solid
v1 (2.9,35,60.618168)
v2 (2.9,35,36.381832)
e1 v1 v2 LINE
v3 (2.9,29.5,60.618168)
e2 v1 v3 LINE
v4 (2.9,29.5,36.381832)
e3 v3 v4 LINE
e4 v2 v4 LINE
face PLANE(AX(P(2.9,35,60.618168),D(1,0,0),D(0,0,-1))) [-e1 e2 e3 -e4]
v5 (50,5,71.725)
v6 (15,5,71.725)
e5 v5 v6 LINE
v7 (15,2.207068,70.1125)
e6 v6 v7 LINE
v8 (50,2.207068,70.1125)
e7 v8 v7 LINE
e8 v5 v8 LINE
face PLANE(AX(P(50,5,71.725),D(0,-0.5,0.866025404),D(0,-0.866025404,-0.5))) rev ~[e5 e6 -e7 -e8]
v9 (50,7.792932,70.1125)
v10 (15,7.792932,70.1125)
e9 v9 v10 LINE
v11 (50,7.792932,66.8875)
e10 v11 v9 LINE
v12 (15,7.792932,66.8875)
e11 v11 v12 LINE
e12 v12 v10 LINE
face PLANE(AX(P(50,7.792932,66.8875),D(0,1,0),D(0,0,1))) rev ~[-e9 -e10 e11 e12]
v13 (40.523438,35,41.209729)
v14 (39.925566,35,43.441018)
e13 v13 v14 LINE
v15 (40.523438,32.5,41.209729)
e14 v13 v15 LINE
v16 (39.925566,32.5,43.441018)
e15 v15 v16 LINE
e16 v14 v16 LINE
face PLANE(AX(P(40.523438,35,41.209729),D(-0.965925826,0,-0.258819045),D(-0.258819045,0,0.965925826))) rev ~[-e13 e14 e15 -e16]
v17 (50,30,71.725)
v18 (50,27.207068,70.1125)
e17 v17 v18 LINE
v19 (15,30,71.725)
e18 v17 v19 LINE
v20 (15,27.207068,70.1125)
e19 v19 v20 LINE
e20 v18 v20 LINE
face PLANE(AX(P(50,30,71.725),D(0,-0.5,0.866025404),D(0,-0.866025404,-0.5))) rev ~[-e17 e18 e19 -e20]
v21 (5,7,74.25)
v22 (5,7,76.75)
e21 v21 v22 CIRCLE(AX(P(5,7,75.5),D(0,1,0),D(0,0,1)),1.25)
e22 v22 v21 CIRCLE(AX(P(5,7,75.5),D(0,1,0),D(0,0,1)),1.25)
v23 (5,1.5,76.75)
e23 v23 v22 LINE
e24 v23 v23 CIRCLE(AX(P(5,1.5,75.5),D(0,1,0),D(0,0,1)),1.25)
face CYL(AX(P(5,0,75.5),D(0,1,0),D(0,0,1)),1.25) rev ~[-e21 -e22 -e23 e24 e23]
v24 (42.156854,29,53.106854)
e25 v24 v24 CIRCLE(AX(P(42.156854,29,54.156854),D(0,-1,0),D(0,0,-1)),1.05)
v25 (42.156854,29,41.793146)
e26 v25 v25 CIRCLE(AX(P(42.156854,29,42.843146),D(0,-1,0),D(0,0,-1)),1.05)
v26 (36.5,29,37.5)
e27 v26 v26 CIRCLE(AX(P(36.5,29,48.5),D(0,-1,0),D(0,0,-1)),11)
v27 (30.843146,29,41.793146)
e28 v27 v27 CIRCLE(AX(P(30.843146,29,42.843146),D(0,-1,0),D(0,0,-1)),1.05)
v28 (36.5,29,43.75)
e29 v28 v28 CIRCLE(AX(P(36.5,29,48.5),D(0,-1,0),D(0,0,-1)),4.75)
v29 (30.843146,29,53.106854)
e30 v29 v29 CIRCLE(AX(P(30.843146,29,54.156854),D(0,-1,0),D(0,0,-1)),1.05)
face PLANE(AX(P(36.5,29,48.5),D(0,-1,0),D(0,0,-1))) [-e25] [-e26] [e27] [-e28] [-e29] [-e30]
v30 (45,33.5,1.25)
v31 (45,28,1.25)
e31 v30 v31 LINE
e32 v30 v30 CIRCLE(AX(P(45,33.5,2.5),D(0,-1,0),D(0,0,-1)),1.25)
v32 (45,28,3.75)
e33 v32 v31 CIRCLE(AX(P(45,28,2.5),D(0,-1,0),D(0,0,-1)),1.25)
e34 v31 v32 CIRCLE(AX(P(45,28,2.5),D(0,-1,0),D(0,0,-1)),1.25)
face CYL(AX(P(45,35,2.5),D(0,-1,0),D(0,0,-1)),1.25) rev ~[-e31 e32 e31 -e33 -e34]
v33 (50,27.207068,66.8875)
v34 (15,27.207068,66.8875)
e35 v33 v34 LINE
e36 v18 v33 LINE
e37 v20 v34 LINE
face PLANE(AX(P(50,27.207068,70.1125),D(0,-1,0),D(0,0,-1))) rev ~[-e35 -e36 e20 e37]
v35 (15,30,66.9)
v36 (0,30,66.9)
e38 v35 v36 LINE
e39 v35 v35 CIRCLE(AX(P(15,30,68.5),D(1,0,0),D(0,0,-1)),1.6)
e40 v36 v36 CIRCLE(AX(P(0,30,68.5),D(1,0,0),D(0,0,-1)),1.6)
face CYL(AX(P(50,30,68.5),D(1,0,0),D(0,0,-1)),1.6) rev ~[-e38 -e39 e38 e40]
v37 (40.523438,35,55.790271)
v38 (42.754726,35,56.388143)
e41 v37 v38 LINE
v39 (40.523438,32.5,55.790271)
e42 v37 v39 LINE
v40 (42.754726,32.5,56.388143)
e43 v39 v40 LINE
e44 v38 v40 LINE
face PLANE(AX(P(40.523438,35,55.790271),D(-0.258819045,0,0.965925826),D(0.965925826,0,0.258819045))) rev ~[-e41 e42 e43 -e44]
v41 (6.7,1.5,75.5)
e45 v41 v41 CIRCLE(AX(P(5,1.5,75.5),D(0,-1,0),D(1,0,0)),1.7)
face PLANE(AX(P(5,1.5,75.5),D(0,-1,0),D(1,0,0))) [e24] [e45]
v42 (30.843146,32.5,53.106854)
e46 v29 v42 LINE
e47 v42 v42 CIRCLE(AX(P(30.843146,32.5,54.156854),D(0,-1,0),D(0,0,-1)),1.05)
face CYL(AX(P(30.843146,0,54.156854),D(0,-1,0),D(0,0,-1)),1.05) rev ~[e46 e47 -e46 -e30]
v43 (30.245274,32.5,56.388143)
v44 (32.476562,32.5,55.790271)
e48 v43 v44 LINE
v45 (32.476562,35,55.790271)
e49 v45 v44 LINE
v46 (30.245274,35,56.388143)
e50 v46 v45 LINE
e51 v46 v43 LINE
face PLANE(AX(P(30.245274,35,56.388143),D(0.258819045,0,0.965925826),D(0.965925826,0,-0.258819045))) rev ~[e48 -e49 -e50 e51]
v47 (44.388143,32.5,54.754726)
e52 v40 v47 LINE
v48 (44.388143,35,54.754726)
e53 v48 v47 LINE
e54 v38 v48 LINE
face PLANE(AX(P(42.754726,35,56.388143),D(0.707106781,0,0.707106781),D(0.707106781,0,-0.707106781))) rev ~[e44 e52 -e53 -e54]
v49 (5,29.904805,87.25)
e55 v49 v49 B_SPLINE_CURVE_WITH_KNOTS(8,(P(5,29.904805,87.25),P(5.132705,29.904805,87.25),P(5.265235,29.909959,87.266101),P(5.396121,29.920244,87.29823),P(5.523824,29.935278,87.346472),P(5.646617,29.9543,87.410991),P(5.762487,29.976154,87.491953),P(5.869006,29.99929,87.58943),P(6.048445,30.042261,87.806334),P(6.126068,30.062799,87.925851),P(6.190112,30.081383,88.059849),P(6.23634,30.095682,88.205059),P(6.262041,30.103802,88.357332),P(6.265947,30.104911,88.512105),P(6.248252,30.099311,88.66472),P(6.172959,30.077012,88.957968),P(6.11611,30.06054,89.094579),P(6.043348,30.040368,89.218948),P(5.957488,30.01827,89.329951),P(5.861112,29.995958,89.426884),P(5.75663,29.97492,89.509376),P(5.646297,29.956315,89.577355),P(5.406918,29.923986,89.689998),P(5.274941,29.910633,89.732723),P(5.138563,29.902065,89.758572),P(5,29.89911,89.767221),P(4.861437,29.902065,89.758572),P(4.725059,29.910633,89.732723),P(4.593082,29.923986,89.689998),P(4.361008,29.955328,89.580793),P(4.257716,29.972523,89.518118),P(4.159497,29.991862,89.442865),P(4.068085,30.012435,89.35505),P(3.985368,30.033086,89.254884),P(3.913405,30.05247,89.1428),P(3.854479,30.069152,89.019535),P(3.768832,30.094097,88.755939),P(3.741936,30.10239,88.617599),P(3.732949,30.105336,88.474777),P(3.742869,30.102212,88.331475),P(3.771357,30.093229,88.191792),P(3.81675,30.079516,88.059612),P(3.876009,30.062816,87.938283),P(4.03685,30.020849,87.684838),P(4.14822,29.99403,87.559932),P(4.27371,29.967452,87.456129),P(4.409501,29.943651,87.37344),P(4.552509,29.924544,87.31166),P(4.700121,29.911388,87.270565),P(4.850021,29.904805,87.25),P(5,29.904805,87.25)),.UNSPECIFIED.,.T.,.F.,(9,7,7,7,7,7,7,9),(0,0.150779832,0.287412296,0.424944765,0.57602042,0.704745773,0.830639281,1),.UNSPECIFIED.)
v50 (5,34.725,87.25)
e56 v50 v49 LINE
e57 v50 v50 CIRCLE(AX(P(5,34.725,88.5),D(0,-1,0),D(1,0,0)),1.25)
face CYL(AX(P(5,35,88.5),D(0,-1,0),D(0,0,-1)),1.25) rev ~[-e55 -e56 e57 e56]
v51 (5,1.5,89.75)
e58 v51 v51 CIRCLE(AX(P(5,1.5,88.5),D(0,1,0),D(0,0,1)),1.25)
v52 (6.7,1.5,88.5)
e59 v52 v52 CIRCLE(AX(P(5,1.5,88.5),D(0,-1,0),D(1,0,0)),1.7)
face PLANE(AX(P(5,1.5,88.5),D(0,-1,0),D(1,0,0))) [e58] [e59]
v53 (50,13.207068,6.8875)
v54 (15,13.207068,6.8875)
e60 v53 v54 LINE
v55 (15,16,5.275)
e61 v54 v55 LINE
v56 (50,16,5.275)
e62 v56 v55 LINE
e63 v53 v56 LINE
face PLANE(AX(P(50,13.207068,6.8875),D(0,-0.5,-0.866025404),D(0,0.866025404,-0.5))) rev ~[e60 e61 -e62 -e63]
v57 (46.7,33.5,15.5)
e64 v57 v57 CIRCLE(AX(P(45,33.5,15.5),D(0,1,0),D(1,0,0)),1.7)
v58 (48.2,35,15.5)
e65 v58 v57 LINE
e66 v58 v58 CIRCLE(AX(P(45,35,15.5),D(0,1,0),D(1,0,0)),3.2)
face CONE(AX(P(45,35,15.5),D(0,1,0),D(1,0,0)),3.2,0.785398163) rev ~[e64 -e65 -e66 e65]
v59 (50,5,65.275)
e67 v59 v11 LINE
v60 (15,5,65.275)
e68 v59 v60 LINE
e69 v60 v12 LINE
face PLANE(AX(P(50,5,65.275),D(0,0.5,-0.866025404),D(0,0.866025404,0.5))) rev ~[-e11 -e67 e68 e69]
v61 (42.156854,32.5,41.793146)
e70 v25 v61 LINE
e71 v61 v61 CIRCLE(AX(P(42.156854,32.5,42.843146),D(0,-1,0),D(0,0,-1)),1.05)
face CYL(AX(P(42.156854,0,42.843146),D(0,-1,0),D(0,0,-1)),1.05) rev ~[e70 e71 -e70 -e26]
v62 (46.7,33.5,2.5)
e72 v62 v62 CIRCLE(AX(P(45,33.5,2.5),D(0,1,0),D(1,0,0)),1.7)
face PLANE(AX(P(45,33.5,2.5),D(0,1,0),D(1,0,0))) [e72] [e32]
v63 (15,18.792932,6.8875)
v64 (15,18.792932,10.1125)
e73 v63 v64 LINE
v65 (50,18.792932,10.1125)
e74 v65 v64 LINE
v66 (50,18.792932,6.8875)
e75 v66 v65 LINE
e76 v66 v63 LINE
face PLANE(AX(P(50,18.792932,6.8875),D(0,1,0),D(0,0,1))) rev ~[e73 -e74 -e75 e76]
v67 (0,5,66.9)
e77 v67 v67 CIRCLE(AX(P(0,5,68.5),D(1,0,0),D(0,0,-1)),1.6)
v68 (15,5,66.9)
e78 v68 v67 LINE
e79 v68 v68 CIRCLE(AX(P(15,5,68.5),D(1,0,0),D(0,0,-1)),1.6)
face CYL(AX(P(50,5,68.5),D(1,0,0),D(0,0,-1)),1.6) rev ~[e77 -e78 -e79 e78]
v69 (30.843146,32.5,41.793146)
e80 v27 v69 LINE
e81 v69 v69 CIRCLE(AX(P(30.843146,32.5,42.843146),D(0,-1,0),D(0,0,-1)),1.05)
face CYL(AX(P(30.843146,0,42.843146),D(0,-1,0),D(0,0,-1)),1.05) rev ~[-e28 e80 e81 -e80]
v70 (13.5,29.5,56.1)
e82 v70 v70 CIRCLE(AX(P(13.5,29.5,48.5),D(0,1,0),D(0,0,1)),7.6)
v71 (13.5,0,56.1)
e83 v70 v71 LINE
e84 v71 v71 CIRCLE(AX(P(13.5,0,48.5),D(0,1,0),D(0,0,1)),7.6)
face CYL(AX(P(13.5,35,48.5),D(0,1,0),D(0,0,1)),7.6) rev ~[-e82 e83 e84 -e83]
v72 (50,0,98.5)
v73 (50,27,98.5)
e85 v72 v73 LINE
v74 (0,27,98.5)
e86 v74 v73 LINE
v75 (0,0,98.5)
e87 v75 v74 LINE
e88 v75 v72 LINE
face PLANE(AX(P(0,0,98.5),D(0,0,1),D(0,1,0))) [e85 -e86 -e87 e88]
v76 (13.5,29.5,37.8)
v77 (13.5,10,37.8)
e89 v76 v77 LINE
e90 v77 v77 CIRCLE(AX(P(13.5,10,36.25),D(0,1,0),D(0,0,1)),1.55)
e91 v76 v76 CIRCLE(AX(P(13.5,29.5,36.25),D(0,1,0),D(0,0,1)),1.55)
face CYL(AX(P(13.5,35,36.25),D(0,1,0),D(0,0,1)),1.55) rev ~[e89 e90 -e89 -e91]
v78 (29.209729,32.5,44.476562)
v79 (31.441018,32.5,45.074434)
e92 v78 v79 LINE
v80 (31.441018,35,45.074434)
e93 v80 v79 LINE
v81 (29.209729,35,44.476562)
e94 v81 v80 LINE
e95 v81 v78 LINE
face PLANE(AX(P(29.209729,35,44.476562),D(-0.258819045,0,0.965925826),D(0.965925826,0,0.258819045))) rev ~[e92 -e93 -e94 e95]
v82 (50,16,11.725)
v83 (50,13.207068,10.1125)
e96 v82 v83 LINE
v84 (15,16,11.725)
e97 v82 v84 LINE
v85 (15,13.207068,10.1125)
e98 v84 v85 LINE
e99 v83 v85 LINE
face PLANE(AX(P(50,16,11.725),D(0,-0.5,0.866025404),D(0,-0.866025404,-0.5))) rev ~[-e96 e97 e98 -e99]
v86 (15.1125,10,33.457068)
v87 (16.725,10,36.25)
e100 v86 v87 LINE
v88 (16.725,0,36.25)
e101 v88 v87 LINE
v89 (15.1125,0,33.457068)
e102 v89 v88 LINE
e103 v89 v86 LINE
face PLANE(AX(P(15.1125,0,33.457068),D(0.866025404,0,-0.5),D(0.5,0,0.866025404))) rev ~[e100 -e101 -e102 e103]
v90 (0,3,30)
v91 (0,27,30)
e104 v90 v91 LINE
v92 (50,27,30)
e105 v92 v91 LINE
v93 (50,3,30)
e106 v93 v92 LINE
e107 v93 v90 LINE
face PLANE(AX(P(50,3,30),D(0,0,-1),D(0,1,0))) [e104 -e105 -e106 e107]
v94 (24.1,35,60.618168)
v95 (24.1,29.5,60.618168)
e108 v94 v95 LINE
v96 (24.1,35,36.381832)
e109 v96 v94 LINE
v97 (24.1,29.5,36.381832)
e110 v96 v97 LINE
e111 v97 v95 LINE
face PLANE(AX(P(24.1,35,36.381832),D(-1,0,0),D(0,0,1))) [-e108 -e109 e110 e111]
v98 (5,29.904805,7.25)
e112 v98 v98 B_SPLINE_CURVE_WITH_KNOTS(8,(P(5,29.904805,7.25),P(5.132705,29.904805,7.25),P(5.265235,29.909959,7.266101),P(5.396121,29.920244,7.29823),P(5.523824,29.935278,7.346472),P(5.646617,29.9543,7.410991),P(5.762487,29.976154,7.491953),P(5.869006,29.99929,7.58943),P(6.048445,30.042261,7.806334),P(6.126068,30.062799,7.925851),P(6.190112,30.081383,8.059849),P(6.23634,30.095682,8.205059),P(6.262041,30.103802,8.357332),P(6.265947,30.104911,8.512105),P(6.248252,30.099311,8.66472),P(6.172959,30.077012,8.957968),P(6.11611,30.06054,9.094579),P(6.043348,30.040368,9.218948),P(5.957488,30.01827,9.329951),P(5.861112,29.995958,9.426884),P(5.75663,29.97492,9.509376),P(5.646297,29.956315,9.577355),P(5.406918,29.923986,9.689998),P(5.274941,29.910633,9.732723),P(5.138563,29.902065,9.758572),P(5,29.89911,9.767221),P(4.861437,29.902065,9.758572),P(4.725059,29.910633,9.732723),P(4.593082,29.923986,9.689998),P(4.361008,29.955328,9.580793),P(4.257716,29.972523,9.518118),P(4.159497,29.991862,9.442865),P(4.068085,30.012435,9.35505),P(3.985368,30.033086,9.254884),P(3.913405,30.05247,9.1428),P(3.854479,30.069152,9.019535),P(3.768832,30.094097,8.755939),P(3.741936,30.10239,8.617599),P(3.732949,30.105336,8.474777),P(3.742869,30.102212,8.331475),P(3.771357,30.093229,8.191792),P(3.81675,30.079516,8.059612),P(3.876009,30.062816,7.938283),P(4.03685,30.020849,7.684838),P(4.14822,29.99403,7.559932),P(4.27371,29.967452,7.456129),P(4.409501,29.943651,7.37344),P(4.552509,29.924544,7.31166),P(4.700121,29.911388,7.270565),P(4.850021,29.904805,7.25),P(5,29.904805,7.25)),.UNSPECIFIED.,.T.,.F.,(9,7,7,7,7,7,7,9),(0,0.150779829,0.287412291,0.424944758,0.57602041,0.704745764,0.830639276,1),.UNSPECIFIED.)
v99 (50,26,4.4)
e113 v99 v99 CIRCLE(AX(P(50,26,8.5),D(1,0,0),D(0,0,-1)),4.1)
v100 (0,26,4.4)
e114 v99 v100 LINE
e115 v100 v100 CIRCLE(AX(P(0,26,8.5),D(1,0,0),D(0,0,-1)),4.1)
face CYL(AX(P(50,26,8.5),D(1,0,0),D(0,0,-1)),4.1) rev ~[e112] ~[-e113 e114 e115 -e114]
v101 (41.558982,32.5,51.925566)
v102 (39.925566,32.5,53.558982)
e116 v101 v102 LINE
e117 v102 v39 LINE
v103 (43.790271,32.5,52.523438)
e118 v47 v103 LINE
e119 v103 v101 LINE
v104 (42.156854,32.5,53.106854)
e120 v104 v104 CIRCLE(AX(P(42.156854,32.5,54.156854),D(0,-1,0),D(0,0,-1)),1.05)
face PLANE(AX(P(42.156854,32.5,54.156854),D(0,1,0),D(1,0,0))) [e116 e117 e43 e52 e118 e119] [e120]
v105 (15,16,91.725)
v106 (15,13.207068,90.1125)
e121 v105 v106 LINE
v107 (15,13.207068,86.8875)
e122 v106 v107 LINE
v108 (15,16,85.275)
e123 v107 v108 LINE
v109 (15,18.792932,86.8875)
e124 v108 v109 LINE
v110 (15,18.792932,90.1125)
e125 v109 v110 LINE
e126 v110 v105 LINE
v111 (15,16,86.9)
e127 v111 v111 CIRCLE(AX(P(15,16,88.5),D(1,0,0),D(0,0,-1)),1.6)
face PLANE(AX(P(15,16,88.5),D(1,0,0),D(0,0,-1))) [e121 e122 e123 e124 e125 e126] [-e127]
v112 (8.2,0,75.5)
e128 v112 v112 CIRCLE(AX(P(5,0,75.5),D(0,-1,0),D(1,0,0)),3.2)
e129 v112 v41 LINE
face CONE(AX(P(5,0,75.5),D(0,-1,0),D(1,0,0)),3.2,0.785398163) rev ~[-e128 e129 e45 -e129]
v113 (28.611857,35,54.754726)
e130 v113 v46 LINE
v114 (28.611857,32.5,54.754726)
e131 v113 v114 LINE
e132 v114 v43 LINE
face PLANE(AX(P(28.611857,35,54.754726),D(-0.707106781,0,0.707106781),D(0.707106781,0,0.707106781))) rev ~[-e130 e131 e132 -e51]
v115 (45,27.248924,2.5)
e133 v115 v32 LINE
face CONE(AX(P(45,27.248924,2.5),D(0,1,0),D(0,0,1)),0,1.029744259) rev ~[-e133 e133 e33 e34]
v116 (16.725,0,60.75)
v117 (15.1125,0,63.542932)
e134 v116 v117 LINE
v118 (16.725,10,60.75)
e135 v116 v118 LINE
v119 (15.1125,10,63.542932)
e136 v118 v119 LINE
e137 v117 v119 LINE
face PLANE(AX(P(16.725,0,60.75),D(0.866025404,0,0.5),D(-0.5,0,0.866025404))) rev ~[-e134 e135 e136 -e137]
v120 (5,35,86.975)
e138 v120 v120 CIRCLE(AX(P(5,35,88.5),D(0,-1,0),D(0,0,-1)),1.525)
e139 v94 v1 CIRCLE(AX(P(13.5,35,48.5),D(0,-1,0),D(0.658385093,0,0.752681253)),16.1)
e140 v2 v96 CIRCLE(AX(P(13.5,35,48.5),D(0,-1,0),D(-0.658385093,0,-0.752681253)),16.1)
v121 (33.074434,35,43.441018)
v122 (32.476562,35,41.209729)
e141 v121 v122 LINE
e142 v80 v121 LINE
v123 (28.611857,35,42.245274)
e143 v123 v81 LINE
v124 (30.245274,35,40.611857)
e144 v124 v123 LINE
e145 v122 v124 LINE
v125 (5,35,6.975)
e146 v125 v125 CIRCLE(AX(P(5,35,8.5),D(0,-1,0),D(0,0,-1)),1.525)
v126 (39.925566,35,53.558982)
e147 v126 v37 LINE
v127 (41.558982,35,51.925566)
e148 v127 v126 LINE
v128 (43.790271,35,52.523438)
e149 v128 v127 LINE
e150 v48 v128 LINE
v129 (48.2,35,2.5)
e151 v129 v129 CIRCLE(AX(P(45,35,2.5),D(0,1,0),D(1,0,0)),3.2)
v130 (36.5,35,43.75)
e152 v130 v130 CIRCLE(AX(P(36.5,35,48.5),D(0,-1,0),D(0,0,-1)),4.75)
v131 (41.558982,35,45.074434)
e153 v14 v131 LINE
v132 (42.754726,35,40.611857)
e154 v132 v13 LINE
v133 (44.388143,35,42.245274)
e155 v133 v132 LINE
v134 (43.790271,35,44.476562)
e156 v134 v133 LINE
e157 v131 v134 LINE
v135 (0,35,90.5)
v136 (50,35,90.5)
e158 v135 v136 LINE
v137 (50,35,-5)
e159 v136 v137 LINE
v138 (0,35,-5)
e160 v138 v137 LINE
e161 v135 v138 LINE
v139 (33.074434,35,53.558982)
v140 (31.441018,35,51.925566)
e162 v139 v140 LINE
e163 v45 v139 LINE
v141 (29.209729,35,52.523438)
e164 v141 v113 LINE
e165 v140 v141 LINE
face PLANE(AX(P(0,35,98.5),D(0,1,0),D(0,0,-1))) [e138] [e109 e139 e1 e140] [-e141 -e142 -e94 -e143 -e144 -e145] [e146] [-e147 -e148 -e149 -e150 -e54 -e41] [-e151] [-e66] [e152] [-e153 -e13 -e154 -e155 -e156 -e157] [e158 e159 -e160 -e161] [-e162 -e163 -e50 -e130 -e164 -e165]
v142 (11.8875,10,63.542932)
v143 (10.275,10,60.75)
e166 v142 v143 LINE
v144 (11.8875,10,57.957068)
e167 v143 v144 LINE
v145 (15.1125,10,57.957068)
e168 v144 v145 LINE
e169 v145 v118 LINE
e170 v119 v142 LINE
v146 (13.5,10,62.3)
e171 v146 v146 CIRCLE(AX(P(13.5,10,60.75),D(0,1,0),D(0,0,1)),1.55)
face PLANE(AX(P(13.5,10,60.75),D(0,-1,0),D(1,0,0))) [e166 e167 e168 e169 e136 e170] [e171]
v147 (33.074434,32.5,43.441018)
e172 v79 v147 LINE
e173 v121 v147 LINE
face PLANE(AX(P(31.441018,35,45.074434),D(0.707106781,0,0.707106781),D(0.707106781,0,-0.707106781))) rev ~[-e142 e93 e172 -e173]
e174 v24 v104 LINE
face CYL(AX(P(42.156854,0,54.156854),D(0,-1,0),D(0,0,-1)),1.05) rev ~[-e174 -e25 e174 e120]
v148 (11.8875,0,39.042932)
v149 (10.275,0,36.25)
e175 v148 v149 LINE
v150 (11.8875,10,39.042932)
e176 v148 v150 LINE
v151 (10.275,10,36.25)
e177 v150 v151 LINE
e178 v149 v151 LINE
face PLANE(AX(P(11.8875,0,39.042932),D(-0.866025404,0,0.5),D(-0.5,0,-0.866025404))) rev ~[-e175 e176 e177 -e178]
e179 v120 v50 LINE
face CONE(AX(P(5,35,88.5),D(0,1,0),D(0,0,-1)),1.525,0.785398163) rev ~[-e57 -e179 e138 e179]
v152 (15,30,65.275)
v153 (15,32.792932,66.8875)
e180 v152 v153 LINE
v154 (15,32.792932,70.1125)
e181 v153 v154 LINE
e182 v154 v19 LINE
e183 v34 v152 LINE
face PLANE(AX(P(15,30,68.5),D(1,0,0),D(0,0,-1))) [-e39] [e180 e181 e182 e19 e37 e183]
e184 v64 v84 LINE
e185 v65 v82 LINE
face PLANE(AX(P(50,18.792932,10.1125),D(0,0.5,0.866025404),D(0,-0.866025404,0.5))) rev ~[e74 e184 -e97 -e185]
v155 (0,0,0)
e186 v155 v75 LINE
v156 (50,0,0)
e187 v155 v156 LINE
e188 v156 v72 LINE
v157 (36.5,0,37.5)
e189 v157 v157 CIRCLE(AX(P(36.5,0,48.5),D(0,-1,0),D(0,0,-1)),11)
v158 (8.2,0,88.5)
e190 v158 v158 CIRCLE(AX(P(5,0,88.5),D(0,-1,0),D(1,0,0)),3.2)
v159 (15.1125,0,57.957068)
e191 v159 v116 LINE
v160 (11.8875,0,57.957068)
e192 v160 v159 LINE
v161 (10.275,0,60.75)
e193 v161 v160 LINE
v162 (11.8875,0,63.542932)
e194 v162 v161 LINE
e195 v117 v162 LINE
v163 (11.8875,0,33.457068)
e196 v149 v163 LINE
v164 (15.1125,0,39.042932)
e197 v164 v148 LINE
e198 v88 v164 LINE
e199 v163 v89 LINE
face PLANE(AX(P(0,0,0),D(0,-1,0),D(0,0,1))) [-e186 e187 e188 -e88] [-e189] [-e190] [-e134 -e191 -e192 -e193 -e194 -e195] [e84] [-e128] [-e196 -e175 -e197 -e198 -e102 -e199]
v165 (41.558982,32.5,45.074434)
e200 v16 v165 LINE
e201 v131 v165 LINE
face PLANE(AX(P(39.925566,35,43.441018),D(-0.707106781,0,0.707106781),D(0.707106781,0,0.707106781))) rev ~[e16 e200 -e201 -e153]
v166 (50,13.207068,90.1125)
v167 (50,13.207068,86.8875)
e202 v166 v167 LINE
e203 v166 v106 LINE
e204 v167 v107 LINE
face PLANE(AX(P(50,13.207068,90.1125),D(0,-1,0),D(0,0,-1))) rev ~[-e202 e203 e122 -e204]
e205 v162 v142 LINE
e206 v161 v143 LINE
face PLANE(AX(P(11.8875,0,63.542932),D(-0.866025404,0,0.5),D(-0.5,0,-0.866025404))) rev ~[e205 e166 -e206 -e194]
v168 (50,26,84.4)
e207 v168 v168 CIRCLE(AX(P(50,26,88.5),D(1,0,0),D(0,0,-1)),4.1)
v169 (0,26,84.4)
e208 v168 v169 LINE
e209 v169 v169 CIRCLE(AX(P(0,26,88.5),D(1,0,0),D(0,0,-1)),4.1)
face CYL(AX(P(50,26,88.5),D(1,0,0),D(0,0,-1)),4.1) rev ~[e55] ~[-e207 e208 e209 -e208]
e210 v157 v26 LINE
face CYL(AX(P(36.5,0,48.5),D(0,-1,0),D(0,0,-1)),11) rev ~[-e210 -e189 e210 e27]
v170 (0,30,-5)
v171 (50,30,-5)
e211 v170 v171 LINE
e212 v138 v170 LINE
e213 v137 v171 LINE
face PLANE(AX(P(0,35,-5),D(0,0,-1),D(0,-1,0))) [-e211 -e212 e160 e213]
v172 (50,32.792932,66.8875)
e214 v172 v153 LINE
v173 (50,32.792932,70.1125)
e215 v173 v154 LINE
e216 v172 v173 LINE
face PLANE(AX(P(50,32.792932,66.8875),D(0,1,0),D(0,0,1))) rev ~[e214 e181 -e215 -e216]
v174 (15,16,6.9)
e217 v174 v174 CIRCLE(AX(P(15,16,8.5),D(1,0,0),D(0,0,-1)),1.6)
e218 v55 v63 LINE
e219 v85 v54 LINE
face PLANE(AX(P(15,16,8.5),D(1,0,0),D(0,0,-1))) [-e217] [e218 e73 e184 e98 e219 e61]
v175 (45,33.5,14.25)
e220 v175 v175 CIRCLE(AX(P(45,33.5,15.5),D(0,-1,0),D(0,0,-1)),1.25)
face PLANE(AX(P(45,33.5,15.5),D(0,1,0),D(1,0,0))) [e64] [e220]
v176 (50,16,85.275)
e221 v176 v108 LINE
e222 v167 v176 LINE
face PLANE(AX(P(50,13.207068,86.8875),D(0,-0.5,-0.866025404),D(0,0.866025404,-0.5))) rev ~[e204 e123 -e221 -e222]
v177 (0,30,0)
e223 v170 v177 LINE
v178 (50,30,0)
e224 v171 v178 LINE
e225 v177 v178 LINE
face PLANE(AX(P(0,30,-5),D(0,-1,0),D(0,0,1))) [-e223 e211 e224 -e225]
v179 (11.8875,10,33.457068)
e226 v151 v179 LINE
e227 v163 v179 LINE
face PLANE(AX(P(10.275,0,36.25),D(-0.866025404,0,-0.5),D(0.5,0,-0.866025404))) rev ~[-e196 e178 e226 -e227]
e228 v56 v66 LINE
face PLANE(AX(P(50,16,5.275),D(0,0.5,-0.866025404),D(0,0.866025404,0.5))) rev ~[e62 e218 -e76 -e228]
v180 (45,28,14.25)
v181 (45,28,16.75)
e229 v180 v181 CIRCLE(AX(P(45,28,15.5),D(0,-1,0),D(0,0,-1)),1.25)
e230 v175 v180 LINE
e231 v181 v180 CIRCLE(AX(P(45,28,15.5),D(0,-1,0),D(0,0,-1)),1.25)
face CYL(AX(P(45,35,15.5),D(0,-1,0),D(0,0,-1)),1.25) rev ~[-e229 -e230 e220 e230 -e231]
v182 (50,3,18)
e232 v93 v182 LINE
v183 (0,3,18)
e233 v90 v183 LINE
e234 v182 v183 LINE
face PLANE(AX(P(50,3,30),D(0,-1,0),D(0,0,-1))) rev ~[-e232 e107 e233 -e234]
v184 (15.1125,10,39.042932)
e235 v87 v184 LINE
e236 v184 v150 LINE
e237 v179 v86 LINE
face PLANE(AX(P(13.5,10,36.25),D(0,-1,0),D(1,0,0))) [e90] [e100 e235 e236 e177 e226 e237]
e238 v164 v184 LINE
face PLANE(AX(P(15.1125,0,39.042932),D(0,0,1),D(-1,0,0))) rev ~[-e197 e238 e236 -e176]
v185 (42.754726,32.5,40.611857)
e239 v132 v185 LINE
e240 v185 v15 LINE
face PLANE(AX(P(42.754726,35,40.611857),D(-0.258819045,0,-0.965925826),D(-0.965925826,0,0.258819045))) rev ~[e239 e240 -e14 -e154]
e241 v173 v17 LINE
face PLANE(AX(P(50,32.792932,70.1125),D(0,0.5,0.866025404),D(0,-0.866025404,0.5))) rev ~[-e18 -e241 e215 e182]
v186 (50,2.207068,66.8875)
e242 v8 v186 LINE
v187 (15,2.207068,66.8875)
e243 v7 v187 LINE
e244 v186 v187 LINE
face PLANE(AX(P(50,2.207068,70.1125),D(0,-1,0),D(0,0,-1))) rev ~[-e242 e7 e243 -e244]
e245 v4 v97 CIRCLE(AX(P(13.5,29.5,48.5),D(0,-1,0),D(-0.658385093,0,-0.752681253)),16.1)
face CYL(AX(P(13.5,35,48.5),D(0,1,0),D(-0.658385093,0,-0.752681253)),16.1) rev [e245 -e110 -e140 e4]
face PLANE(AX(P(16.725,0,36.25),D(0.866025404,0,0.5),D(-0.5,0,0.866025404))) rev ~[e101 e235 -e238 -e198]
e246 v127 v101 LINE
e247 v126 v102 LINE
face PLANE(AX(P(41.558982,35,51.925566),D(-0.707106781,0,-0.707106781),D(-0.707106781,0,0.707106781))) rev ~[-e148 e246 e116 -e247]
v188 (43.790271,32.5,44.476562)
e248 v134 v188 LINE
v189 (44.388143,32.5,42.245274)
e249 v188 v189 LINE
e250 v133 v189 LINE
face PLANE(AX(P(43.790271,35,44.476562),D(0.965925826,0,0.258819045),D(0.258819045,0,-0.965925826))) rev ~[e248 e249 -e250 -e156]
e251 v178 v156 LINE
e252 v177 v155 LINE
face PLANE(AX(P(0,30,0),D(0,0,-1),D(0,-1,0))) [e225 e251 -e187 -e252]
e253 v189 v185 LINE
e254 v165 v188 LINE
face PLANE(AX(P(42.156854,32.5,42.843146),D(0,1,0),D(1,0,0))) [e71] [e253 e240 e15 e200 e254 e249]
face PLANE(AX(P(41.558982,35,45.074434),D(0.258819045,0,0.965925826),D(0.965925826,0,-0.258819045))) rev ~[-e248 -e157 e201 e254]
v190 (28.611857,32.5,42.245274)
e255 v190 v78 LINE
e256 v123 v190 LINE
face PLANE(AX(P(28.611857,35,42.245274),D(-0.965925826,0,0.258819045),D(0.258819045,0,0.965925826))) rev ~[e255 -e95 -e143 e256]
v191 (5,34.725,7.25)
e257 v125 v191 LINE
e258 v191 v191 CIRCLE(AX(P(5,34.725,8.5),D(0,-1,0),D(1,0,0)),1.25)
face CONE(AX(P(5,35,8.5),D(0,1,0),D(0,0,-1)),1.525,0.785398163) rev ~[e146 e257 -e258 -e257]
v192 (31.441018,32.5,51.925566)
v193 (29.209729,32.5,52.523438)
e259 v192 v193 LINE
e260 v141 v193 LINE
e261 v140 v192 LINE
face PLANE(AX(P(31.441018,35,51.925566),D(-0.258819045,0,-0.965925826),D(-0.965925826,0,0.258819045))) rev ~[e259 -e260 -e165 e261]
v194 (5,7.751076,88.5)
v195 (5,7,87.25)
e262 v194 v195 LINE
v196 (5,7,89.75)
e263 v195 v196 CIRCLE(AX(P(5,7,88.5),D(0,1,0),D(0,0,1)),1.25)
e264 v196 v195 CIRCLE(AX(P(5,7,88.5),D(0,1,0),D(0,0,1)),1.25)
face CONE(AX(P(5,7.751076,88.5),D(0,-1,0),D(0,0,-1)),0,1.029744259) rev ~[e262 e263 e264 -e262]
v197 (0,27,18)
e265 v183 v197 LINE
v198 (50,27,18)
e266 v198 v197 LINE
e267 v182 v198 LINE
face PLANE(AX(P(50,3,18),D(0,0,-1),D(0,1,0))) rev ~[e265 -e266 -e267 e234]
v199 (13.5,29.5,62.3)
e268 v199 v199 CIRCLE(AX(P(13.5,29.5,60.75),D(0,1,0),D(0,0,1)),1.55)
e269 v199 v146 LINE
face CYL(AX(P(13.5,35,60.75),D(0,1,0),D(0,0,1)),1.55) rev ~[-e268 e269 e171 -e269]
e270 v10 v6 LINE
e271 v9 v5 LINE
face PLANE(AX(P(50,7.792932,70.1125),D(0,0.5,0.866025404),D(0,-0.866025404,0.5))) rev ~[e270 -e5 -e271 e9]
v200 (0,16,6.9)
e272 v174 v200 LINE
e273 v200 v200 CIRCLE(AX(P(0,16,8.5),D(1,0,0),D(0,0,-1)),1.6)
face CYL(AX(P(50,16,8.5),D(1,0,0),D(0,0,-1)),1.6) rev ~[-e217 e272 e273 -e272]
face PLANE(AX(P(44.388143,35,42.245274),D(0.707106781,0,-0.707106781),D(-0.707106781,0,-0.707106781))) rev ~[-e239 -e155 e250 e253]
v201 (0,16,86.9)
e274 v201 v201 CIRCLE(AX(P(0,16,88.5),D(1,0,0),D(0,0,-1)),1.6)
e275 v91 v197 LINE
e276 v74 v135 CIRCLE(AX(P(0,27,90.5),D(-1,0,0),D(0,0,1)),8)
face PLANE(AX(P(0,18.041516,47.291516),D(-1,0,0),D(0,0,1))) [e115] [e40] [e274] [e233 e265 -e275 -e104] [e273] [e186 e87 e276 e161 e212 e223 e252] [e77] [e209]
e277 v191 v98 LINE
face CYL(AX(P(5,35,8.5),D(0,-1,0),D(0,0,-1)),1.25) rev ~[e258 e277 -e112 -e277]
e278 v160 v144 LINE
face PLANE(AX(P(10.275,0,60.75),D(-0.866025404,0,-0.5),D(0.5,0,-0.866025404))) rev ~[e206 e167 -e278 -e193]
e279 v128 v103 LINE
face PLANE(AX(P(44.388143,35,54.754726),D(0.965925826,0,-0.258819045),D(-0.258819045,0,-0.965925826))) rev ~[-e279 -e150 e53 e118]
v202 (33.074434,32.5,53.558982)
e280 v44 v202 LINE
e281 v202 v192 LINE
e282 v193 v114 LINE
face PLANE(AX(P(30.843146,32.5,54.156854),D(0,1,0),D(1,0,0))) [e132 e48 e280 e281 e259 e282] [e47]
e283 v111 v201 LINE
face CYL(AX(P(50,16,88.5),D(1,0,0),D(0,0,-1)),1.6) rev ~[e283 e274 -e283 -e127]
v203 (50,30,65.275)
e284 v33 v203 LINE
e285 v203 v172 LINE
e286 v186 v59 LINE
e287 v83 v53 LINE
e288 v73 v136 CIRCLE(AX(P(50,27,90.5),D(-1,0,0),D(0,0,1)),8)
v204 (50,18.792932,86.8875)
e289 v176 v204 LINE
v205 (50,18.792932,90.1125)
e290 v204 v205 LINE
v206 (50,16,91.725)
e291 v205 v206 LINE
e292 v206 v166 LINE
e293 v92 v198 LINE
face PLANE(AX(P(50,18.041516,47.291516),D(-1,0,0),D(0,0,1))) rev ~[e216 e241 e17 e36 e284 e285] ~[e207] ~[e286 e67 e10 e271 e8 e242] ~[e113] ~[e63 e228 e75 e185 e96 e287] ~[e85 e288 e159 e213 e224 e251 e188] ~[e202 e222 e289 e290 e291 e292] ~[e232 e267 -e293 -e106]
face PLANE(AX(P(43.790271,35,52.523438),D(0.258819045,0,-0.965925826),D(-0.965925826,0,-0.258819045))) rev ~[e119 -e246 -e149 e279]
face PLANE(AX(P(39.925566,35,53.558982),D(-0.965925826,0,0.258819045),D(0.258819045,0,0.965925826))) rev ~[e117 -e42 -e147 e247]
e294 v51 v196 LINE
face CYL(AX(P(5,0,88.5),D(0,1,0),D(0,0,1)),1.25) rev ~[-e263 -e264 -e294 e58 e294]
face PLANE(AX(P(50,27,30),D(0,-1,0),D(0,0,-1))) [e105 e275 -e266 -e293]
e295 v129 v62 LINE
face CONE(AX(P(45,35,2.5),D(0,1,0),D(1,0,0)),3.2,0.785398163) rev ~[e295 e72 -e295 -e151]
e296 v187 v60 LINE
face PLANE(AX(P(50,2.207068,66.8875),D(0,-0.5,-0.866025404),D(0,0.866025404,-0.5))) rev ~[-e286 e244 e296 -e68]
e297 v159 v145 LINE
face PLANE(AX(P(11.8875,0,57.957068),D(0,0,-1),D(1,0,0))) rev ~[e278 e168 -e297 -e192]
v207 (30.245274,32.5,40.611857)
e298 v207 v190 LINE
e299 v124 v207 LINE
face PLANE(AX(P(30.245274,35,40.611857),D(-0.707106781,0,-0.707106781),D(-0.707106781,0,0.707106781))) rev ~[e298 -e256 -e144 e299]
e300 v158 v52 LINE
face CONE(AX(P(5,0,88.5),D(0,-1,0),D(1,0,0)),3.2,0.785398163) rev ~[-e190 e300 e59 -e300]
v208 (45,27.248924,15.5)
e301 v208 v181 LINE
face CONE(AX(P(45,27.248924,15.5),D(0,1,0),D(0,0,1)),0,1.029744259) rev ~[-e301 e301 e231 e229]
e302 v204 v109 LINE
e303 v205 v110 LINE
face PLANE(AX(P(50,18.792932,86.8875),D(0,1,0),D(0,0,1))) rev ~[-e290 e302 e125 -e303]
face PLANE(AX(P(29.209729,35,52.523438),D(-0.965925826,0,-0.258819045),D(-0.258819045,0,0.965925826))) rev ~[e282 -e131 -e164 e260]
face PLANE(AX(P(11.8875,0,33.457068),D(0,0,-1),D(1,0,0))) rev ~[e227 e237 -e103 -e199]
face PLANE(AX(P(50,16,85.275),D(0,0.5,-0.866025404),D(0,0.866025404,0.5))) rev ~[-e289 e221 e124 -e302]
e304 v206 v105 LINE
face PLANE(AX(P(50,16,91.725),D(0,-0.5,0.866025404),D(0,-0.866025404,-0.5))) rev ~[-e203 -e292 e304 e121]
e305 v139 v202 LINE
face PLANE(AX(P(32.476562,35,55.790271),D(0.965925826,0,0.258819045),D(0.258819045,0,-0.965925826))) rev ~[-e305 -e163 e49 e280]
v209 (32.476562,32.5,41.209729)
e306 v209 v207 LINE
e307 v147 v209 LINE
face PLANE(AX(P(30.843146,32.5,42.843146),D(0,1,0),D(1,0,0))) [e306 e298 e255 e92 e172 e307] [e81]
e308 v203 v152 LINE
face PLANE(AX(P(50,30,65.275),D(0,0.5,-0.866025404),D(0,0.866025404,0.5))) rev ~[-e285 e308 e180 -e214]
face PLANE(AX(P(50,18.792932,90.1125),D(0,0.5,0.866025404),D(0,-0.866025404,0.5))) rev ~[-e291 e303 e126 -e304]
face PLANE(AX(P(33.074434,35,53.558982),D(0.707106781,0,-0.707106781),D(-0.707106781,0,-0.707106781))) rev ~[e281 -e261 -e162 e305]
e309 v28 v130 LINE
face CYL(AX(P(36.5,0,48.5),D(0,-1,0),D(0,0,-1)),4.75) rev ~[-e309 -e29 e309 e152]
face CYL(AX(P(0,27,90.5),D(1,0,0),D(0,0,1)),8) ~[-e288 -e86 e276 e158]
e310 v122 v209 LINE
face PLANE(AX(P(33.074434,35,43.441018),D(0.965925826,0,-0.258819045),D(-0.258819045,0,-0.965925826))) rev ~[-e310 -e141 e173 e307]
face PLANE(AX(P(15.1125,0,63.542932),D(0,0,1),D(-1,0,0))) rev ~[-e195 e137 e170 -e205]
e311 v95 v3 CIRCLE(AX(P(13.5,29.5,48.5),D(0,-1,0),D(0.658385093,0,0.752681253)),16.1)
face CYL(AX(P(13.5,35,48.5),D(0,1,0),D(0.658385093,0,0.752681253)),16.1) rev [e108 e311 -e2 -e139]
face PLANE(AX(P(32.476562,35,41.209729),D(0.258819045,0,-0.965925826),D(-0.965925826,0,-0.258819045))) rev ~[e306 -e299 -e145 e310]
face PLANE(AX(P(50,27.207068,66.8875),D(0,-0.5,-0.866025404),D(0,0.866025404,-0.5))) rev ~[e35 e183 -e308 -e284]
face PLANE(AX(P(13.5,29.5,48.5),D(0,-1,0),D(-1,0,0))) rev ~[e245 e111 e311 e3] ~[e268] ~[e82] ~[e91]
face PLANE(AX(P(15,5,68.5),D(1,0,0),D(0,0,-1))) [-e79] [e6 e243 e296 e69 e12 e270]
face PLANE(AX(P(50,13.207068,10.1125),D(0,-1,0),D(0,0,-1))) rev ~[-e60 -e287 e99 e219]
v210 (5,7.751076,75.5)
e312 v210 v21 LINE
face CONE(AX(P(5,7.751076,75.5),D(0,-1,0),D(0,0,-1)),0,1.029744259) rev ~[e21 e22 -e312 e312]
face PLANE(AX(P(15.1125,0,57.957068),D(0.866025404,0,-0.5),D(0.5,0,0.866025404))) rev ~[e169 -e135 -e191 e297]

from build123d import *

# Parameters (mm, degrees)
BOSS_EXTRUDE2_DEPTH           = 50
SKETCH2_R                     = 4.1
CUT_EXTRUDE1_DEPTH            = 50
SKETCH3_W                     = 12
SKETCH3_H                     = 24
CUT_EXTRUDE2_DEPTH            = 50
SKETCH4_R                     = 1.6
CUT_EXTRUDE3_DEPTH            = 50
CUT_EXTRUDE4_DEPTH            = 35
SKETCH6_R                     = 7.6
CUT_EXTRUDE5_DEPTH            = 35
CUT_EXTRUDE6_DEPTH            = 5.5
SKETCH8_R                     = 1.55
CUT_EXTRUDE7_DEPTH            = 116.876011322
CUT_EXTRUDE8_DEPTH            = 10
SKETCH10_R                    = 11
CUT_EXTRUDE9_DEPTH            = 29
SKETCH11_R                    = 1.05
SKETCH11_R_2                  = 4.75
CUT_EXTRUDE10_DEPTH           = 116.876011322
CUT_EXTRUDE11_DEPTH           = 2.5
FILLET1_R                     = 8
M3_TAPPED_HOLE3_D             = 2.5
M3_TAPPED_HOLE3_DEPTH         = 8.5
M3_TAPPED_HOLE3_CSINK_D       = 3.05
M3_TAPPED_HOLE3_CSINK_ANGLE   = 90
M3_TAPPED_HOLE3_TIP           = 0.751075774
M3_TAPPED_HOLE4_D             = 2.5
M3_TAPPED_HOLE4_DEPTH         = 7
M3_TAPPED_HOLE4_CSINK_D       = 3.05
M3_TAPPED_HOLE4_CSINK_ANGLE   = 90
M3_TAPPED_HOLE4_TIP           = 0.751075774
SKETCH15_R                    = 3.2
CUT_EXTRUDE12_DEPTH           = 1.5
CUT_EXTRUDE12_DRAFT           = -45
CUT_EXTRUDE12_PROFILE_2_DEPTH = 1.5
CUT_EXTRUDE12_PROFILE_2_DRAFT = -45
M3_TAPPED_HOLE5_D             = 2.5
M3_TAPPED_HOLE5_DEPTH         = 7
M3_TAPPED_HOLE5_CSINK_D       = 3.05
M3_TAPPED_HOLE5_CSINK_ANGLE   = 90
M3_TAPPED_HOLE5_TIP           = 0.751075774
SKETCH17_R                    = 3.2
CUT_EXTRUDE13_DEPTH           = 1.5
CUT_EXTRUDE13_DRAFT           = -45
CUT_EXTRUDE13_PROFILE_2_DEPTH = 1.5
CUT_EXTRUDE13_PROFILE_2_DRAFT = -45


with BuildPart() as part:
    # Sketch1 → Boss-Extrude2 (new body)
    with BuildSketch(Plane(origin=(0, 0, 0), x_dir=(0, 0, -1), z_dir=(1, 0, 0))):
        Polygon((0, 30), (0, 0), (-98.5, 0), (-98.5, 35), (5, 35), (5, 30), align=None)
    extrude(amount=BOSS_EXTRUDE2_DEPTH)

    # Sketch2 → Cut-Extrude1 (cut)
    with BuildSketch(Plane(origin=(50, 0, 0), x_dir=(0, 0, -1), z_dir=(1, 0, 0))):
        with Locations((-88.5, 26)):
            Circle(SKETCH2_R)
        with Locations((-8.5, 26)):
            Circle(SKETCH2_R)
    extrude(amount=-CUT_EXTRUDE1_DEPTH, mode=Mode.SUBTRACT)

    # Sketch3 → Cut-Extrude2 (cut)
    with BuildSketch(Plane(origin=(50, 0, 0), x_dir=(0, 0, -1), z_dir=(1, 0, 0))):
        with Locations((-24, 15)):
            Rectangle(SKETCH3_W, SKETCH3_H)
    extrude(amount=-CUT_EXTRUDE2_DEPTH, mode=Mode.SUBTRACT)

    # Sketch4 → Cut-Extrude3 (cut)
    with BuildSketch(Plane(origin=(50, 0, 0), x_dir=(0, 0, -1), z_dir=(1, 0, 0))):
        with Locations((-88.5, 16)):
            Circle(SKETCH4_R)
        with Locations((-68.5, 30)):
            Circle(SKETCH4_R)
        with Locations((-68.5, 5)):
            Circle(SKETCH4_R)
        with Locations((-8.5, 16)):
            Circle(SKETCH4_R)
    extrude(amount=-CUT_EXTRUDE3_DEPTH, mode=Mode.SUBTRACT)

    # Sketch5 → Cut-Extrude4 (cut)
    with BuildSketch(Plane(origin=(50, 0, 0), x_dir=(0, 0, -1), z_dir=(1, 0, 0))):
        Polygon((-65.275, 30), (-66.8875, 32.792931927), (-70.1125, 32.792931927), (-71.725, 30), (-70.1125, 27.207068073), (-66.8875, 27.207068073), align=None)
        Polygon((-85.275, 16), (-86.8875, 18.792931927), (-90.1125, 18.792931927), (-91.725, 16), (-90.1125, 13.207068073), (-86.8875, 13.207068073), align=None)
        Polygon((-65.275, 5), (-66.8875, 7.792931927), (-70.1125, 7.792931927), (-71.725, 5), (-70.1125, 2.207068073), (-66.8875, 2.207068073), align=None)
        Polygon((-5.275, 16), (-6.8875, 18.792931927), (-10.1125, 18.792931927), (-11.725, 16), (-10.1125, 13.207068073), (-6.8875, 13.207068073), align=None)
    extrude(amount=-CUT_EXTRUDE4_DEPTH, mode=Mode.SUBTRACT)

    # Sketch6 → Cut-Extrude5 (cut)
    with BuildSketch(Plane(origin=(0, 35, 0), x_dir=(1, 0, 0), z_dir=(0, 1, 0))):
        with Locations(Location((13.5, -48.5, 0), (0, 0, 270))):
            Circle(SKETCH6_R)
    extrude(amount=-CUT_EXTRUDE5_DEPTH, mode=Mode.SUBTRACT)

    # Sketch7 → Cut-Extrude6 (cut)
    with BuildSketch(Plane(origin=(0, 35, 0), x_dir=(1, 0, 0), z_dir=(0, 1, 0))):
        with BuildLine():
            Line((24.1, -36.381831822), (24.1, -60.618168178))
            ThreePointArc((24.1, -60.618168178), (13.5, -64.6), (2.9, -60.618168178))
            Line((2.9, -60.618168178), (2.9, -36.381831822))
            ThreePointArc((2.9, -36.381831822), (13.5, -32.4), (24.1, -36.381831822))
        make_face()
    extrude(amount=-CUT_EXTRUDE6_DEPTH, mode=Mode.SUBTRACT)

    # Sketch8 → Cut-Extrude7 (cut, through all)
    with BuildSketch(Plane(origin=(0, 35, 0), x_dir=(1, 0, 0), z_dir=(0, 1, 0))):
        with Locations(Location((13.5, -36.25, 0), (0, 0, 270))):
            Circle(SKETCH8_R)
        with Locations(Location((13.5, -60.75, 0), (0, 0, 270))):
            Circle(SKETCH8_R)
    extrude(amount=-CUT_EXTRUDE7_DEPTH, mode=Mode.SUBTRACT)

    # Sketch9 → Cut-Extrude8 (cut)
    with BuildSketch(Plane.XZ):
        Polygon((16.725, 60.75), (15.1125, 63.542931927), (11.8875, 63.542931927), (10.275, 60.75), (11.8875, 57.957068073), (15.1125, 57.957068073), align=None)
        Polygon((16.725, 36.25), (15.1125, 39.042931927), (11.8875, 39.042931927), (10.275, 36.25), (11.8875, 33.457068073), (15.1125, 33.457068073), align=None)
    extrude(amount=-CUT_EXTRUDE8_DEPTH, mode=Mode.SUBTRACT)

    # Sketch10 → Cut-Extrude9 (cut)
    with BuildSketch(Plane.XZ):
        with Locations(Location((36.5, 48.5, 0), (0, 0, 270))):
            Circle(SKETCH10_R)
    extrude(amount=-CUT_EXTRUDE9_DEPTH, mode=Mode.SUBTRACT)

    # Sketch11 → Cut-Extrude10 (cut, through all)
    with BuildSketch(Plane.XZ):
        with Locations(Location((30.843145751, 54.156854249, 0), (0, 0, 270))):
            Circle(SKETCH11_R)
        with Locations(Location((42.156854249, 54.156854249, 0), (0, 0, 270))):
            Circle(SKETCH11_R)
        with Locations(Location((30.843145751, 42.843145751, 0), (0, 0, 270))):
            Circle(SKETCH11_R)
        with Locations(Location((42.156854249, 42.843145751, 0), (0, 0, 270))):
            Circle(SKETCH11_R)
        with Locations(Location((36.5, 48.5, 0), (0, 0, 270))):
            Circle(SKETCH11_R_2)
    extrude(amount=-CUT_EXTRUDE10_DEPTH, mode=Mode.SUBTRACT)

    # Sketch12 → Cut-Extrude11 (cut)
    with BuildSketch(Plane(origin=(0, 35, 0), x_dir=(1, 0, 0), z_dir=(0, 1, 0))):
        Polygon((44.388142908, -42.245273756), (42.754726244, -40.611857092), (40.523437585, -41.209729086), (39.925565591, -43.441017745), (41.558982255, -45.074434409), (43.790270914, -44.476562415), align=None)
        Polygon((44.388142908, -54.754726244), (43.790270914, -52.523437585), (41.558982255, -51.925565591), (39.925565591, -53.558982255), (40.523437585, -55.790270914), (42.754726244, -56.388142908), align=None)
        Polygon((33.074434409, -43.441017745), (32.476562415, -41.209729086), (30.245273756, -40.611857092), (28.611857092, -42.245273756), (29.209729086, -44.476562415), (31.441017745, -45.074434409), align=None)
        Polygon((33.074434409, -53.558982255), (31.441017745, -51.925565591), (29.209729086, -52.523437585), (28.611857092, -54.754726244), (30.245273756, -56.388142908), (32.476562415, -55.790270914), align=None)
    extrude(amount=-CUT_EXTRUDE11_DEPTH, mode=Mode.SUBTRACT)

    # Fillet1
    fillet1_edges = [part.edges().sort_by_distance(p)[0] for p in [
        (25, 35, 98.5),
    ]]
    fillet(fillet1_edges, radius=FILLET1_R)

    # M3 Tapped Hole3
    with Locations(Plane(origin=(5, 35, 8.5), x_dir=(0, 0, 1), z_dir=(0, 1, 0))):
        with Locations((0, 0), (80, 0)):
            CounterSinkHole(M3_TAPPED_HOLE3_D / 2, M3_TAPPED_HOLE3_CSINK_D / 2, depth=M3_TAPPED_HOLE3_DEPTH, counter_sink_angle=M3_TAPPED_HOLE3_CSINK_ANGLE)
            with Locations((0, 0, -(M3_TAPPED_HOLE3_DEPTH + M3_TAPPED_HOLE3_TIP / 2))):  # 118° drill point
                Cone(0, M3_TAPPED_HOLE3_D / 2, M3_TAPPED_HOLE3_TIP, mode=Mode.SUBTRACT)

    # M3 Tapped Hole4
    with Locations(Plane(origin=(45, 35, 2.5), x_dir=(0, 0, 1), z_dir=(0, 1, 0))):
        with Locations((0, 0), (13, 0)):
            CounterSinkHole(M3_TAPPED_HOLE4_D / 2, M3_TAPPED_HOLE4_CSINK_D / 2, depth=M3_TAPPED_HOLE4_DEPTH, counter_sink_angle=M3_TAPPED_HOLE4_CSINK_ANGLE)
            with Locations((0, 0, -(M3_TAPPED_HOLE4_DEPTH + M3_TAPPED_HOLE4_TIP / 2))):  # 118° drill point
                Cone(0, M3_TAPPED_HOLE4_D / 2, M3_TAPPED_HOLE4_TIP, mode=Mode.SUBTRACT)


with BuildPart() as cut_extrude12_tool:
    # Sketch15 → Cut-Extrude12 (with draft: the straight prism first)
    with BuildSketch(Plane(origin=(0, 35, 0), x_dir=(1, 0, 0), z_dir=(0, 1, 0))):
        with Locations((45, -2.5)):
            Circle(SKETCH15_R)
    extrude(amount=-CUT_EXTRUDE12_DEPTH)
    # Cut-Extrude12: the draft: its side faces are tilted about the plane it starts from
    cut_extrude12_sides = [cut_extrude12_tool.faces().sort_by_distance(p)[0] for p in [
        (41.8, 34.25, 2.5),
    ]]
    draft(cut_extrude12_sides, Plane(origin=(0, 35, 0), x_dir=(1, 0, 0), z_dir=(0, 1, 0)), CUT_EXTRUDE12_DRAFT)


with BuildPart() as part_1:
    add(part.part)

    # Cut-Extrude12: cut by cut_extrude12_tool
    add(cut_extrude12_tool.part, mode=Mode.SUBTRACT)


with BuildPart() as cut_extrude12_profile_2_tool:
    # Sketch15 → Cut-Extrude12 profile 2 (with draft: the straight prism first)
    with BuildSketch(Plane(origin=(0, 35, 0), x_dir=(1, 0, 0), z_dir=(0, 1, 0))):
        with Locations((45, -15.5)):
            Circle(SKETCH15_R)
    extrude(amount=-CUT_EXTRUDE12_PROFILE_2_DEPTH)
    # Cut-Extrude12 profile 2: the draft: its side faces are tilted about the plane it starts from
    cut_extrude12_profile_2_sides = [cut_extrude12_profile_2_tool.faces().sort_by_distance(p)[0] for p in [
        (41.8, 34.25, 15.5),
    ]]
    draft(cut_extrude12_profile_2_sides, Plane(origin=(0, 35, 0), x_dir=(1, 0, 0), z_dir=(0, 1, 0)), CUT_EXTRUDE12_PROFILE_2_DRAFT)


with BuildPart() as part_2:
    add(part_1.part)

    # Cut-Extrude12 profile 2: cut by cut_extrude12_profile_2_tool
    add(cut_extrude12_profile_2_tool.part, mode=Mode.SUBTRACT)

    # M3 Tapped Hole5
    with Locations(Plane(origin=(5, 0, 88.5), x_dir=(0, 0, -1), z_dir=(0, -1, 0))):
        with Locations((0, 0), (13, 0)):
            CounterSinkHole(M3_TAPPED_HOLE5_D / 2, M3_TAPPED_HOLE5_CSINK_D / 2, depth=M3_TAPPED_HOLE5_DEPTH, counter_sink_angle=M3_TAPPED_HOLE5_CSINK_ANGLE)
            with Locations((0, 0, -(M3_TAPPED_HOLE5_DEPTH + M3_TAPPED_HOLE5_TIP / 2))):  # 118° drill point
                Cone(0, M3_TAPPED_HOLE5_D / 2, M3_TAPPED_HOLE5_TIP, mode=Mode.SUBTRACT)


with BuildPart() as cut_extrude13_tool:
    # Sketch17 → Cut-Extrude13 (with draft: the straight prism first)
    with BuildSketch(Plane.XZ):
        with Locations((5, 88.5)):
            Circle(SKETCH17_R)
    extrude(amount=-CUT_EXTRUDE13_DEPTH)
    # Cut-Extrude13: the draft: its side faces are tilted about the plane it starts from
    cut_extrude13_sides = [cut_extrude13_tool.faces().sort_by_distance(p)[0] for p in [
        (1.8, 0.75, 88.5),
    ]]
    draft(cut_extrude13_sides, Plane.XZ, CUT_EXTRUDE13_DRAFT)


with BuildPart() as part_3:
    add(part_2.part)

    # Cut-Extrude13: cut by cut_extrude13_tool
    add(cut_extrude13_tool.part, mode=Mode.SUBTRACT)


with BuildPart() as cut_extrude13_profile_2_tool:
    # Sketch17 → Cut-Extrude13 profile 2 (with draft: the straight prism first)
    with BuildSketch(Plane.XZ):
        with Locations((5, 75.5)):
            Circle(SKETCH17_R)
    extrude(amount=-CUT_EXTRUDE13_PROFILE_2_DEPTH)
    # Cut-Extrude13 profile 2: the draft: its side faces are tilted about the plane it starts from
    cut_extrude13_profile_2_sides = [cut_extrude13_profile_2_tool.faces().sort_by_distance(p)[0] for p in [
        (1.8, 0.75, 75.5),
    ]]
    draft(cut_extrude13_profile_2_sides, Plane.XZ, CUT_EXTRUDE13_PROFILE_2_DRAFT)


with BuildPart() as part_4:
    add(part_3.part)

    # Cut-Extrude13 profile 2: cut by cut_extrude13_profile_2_tool
    add(cut_extrude13_profile_2_tool.part, mode=Mode.SUBTRACT)


solid = part_4.part
